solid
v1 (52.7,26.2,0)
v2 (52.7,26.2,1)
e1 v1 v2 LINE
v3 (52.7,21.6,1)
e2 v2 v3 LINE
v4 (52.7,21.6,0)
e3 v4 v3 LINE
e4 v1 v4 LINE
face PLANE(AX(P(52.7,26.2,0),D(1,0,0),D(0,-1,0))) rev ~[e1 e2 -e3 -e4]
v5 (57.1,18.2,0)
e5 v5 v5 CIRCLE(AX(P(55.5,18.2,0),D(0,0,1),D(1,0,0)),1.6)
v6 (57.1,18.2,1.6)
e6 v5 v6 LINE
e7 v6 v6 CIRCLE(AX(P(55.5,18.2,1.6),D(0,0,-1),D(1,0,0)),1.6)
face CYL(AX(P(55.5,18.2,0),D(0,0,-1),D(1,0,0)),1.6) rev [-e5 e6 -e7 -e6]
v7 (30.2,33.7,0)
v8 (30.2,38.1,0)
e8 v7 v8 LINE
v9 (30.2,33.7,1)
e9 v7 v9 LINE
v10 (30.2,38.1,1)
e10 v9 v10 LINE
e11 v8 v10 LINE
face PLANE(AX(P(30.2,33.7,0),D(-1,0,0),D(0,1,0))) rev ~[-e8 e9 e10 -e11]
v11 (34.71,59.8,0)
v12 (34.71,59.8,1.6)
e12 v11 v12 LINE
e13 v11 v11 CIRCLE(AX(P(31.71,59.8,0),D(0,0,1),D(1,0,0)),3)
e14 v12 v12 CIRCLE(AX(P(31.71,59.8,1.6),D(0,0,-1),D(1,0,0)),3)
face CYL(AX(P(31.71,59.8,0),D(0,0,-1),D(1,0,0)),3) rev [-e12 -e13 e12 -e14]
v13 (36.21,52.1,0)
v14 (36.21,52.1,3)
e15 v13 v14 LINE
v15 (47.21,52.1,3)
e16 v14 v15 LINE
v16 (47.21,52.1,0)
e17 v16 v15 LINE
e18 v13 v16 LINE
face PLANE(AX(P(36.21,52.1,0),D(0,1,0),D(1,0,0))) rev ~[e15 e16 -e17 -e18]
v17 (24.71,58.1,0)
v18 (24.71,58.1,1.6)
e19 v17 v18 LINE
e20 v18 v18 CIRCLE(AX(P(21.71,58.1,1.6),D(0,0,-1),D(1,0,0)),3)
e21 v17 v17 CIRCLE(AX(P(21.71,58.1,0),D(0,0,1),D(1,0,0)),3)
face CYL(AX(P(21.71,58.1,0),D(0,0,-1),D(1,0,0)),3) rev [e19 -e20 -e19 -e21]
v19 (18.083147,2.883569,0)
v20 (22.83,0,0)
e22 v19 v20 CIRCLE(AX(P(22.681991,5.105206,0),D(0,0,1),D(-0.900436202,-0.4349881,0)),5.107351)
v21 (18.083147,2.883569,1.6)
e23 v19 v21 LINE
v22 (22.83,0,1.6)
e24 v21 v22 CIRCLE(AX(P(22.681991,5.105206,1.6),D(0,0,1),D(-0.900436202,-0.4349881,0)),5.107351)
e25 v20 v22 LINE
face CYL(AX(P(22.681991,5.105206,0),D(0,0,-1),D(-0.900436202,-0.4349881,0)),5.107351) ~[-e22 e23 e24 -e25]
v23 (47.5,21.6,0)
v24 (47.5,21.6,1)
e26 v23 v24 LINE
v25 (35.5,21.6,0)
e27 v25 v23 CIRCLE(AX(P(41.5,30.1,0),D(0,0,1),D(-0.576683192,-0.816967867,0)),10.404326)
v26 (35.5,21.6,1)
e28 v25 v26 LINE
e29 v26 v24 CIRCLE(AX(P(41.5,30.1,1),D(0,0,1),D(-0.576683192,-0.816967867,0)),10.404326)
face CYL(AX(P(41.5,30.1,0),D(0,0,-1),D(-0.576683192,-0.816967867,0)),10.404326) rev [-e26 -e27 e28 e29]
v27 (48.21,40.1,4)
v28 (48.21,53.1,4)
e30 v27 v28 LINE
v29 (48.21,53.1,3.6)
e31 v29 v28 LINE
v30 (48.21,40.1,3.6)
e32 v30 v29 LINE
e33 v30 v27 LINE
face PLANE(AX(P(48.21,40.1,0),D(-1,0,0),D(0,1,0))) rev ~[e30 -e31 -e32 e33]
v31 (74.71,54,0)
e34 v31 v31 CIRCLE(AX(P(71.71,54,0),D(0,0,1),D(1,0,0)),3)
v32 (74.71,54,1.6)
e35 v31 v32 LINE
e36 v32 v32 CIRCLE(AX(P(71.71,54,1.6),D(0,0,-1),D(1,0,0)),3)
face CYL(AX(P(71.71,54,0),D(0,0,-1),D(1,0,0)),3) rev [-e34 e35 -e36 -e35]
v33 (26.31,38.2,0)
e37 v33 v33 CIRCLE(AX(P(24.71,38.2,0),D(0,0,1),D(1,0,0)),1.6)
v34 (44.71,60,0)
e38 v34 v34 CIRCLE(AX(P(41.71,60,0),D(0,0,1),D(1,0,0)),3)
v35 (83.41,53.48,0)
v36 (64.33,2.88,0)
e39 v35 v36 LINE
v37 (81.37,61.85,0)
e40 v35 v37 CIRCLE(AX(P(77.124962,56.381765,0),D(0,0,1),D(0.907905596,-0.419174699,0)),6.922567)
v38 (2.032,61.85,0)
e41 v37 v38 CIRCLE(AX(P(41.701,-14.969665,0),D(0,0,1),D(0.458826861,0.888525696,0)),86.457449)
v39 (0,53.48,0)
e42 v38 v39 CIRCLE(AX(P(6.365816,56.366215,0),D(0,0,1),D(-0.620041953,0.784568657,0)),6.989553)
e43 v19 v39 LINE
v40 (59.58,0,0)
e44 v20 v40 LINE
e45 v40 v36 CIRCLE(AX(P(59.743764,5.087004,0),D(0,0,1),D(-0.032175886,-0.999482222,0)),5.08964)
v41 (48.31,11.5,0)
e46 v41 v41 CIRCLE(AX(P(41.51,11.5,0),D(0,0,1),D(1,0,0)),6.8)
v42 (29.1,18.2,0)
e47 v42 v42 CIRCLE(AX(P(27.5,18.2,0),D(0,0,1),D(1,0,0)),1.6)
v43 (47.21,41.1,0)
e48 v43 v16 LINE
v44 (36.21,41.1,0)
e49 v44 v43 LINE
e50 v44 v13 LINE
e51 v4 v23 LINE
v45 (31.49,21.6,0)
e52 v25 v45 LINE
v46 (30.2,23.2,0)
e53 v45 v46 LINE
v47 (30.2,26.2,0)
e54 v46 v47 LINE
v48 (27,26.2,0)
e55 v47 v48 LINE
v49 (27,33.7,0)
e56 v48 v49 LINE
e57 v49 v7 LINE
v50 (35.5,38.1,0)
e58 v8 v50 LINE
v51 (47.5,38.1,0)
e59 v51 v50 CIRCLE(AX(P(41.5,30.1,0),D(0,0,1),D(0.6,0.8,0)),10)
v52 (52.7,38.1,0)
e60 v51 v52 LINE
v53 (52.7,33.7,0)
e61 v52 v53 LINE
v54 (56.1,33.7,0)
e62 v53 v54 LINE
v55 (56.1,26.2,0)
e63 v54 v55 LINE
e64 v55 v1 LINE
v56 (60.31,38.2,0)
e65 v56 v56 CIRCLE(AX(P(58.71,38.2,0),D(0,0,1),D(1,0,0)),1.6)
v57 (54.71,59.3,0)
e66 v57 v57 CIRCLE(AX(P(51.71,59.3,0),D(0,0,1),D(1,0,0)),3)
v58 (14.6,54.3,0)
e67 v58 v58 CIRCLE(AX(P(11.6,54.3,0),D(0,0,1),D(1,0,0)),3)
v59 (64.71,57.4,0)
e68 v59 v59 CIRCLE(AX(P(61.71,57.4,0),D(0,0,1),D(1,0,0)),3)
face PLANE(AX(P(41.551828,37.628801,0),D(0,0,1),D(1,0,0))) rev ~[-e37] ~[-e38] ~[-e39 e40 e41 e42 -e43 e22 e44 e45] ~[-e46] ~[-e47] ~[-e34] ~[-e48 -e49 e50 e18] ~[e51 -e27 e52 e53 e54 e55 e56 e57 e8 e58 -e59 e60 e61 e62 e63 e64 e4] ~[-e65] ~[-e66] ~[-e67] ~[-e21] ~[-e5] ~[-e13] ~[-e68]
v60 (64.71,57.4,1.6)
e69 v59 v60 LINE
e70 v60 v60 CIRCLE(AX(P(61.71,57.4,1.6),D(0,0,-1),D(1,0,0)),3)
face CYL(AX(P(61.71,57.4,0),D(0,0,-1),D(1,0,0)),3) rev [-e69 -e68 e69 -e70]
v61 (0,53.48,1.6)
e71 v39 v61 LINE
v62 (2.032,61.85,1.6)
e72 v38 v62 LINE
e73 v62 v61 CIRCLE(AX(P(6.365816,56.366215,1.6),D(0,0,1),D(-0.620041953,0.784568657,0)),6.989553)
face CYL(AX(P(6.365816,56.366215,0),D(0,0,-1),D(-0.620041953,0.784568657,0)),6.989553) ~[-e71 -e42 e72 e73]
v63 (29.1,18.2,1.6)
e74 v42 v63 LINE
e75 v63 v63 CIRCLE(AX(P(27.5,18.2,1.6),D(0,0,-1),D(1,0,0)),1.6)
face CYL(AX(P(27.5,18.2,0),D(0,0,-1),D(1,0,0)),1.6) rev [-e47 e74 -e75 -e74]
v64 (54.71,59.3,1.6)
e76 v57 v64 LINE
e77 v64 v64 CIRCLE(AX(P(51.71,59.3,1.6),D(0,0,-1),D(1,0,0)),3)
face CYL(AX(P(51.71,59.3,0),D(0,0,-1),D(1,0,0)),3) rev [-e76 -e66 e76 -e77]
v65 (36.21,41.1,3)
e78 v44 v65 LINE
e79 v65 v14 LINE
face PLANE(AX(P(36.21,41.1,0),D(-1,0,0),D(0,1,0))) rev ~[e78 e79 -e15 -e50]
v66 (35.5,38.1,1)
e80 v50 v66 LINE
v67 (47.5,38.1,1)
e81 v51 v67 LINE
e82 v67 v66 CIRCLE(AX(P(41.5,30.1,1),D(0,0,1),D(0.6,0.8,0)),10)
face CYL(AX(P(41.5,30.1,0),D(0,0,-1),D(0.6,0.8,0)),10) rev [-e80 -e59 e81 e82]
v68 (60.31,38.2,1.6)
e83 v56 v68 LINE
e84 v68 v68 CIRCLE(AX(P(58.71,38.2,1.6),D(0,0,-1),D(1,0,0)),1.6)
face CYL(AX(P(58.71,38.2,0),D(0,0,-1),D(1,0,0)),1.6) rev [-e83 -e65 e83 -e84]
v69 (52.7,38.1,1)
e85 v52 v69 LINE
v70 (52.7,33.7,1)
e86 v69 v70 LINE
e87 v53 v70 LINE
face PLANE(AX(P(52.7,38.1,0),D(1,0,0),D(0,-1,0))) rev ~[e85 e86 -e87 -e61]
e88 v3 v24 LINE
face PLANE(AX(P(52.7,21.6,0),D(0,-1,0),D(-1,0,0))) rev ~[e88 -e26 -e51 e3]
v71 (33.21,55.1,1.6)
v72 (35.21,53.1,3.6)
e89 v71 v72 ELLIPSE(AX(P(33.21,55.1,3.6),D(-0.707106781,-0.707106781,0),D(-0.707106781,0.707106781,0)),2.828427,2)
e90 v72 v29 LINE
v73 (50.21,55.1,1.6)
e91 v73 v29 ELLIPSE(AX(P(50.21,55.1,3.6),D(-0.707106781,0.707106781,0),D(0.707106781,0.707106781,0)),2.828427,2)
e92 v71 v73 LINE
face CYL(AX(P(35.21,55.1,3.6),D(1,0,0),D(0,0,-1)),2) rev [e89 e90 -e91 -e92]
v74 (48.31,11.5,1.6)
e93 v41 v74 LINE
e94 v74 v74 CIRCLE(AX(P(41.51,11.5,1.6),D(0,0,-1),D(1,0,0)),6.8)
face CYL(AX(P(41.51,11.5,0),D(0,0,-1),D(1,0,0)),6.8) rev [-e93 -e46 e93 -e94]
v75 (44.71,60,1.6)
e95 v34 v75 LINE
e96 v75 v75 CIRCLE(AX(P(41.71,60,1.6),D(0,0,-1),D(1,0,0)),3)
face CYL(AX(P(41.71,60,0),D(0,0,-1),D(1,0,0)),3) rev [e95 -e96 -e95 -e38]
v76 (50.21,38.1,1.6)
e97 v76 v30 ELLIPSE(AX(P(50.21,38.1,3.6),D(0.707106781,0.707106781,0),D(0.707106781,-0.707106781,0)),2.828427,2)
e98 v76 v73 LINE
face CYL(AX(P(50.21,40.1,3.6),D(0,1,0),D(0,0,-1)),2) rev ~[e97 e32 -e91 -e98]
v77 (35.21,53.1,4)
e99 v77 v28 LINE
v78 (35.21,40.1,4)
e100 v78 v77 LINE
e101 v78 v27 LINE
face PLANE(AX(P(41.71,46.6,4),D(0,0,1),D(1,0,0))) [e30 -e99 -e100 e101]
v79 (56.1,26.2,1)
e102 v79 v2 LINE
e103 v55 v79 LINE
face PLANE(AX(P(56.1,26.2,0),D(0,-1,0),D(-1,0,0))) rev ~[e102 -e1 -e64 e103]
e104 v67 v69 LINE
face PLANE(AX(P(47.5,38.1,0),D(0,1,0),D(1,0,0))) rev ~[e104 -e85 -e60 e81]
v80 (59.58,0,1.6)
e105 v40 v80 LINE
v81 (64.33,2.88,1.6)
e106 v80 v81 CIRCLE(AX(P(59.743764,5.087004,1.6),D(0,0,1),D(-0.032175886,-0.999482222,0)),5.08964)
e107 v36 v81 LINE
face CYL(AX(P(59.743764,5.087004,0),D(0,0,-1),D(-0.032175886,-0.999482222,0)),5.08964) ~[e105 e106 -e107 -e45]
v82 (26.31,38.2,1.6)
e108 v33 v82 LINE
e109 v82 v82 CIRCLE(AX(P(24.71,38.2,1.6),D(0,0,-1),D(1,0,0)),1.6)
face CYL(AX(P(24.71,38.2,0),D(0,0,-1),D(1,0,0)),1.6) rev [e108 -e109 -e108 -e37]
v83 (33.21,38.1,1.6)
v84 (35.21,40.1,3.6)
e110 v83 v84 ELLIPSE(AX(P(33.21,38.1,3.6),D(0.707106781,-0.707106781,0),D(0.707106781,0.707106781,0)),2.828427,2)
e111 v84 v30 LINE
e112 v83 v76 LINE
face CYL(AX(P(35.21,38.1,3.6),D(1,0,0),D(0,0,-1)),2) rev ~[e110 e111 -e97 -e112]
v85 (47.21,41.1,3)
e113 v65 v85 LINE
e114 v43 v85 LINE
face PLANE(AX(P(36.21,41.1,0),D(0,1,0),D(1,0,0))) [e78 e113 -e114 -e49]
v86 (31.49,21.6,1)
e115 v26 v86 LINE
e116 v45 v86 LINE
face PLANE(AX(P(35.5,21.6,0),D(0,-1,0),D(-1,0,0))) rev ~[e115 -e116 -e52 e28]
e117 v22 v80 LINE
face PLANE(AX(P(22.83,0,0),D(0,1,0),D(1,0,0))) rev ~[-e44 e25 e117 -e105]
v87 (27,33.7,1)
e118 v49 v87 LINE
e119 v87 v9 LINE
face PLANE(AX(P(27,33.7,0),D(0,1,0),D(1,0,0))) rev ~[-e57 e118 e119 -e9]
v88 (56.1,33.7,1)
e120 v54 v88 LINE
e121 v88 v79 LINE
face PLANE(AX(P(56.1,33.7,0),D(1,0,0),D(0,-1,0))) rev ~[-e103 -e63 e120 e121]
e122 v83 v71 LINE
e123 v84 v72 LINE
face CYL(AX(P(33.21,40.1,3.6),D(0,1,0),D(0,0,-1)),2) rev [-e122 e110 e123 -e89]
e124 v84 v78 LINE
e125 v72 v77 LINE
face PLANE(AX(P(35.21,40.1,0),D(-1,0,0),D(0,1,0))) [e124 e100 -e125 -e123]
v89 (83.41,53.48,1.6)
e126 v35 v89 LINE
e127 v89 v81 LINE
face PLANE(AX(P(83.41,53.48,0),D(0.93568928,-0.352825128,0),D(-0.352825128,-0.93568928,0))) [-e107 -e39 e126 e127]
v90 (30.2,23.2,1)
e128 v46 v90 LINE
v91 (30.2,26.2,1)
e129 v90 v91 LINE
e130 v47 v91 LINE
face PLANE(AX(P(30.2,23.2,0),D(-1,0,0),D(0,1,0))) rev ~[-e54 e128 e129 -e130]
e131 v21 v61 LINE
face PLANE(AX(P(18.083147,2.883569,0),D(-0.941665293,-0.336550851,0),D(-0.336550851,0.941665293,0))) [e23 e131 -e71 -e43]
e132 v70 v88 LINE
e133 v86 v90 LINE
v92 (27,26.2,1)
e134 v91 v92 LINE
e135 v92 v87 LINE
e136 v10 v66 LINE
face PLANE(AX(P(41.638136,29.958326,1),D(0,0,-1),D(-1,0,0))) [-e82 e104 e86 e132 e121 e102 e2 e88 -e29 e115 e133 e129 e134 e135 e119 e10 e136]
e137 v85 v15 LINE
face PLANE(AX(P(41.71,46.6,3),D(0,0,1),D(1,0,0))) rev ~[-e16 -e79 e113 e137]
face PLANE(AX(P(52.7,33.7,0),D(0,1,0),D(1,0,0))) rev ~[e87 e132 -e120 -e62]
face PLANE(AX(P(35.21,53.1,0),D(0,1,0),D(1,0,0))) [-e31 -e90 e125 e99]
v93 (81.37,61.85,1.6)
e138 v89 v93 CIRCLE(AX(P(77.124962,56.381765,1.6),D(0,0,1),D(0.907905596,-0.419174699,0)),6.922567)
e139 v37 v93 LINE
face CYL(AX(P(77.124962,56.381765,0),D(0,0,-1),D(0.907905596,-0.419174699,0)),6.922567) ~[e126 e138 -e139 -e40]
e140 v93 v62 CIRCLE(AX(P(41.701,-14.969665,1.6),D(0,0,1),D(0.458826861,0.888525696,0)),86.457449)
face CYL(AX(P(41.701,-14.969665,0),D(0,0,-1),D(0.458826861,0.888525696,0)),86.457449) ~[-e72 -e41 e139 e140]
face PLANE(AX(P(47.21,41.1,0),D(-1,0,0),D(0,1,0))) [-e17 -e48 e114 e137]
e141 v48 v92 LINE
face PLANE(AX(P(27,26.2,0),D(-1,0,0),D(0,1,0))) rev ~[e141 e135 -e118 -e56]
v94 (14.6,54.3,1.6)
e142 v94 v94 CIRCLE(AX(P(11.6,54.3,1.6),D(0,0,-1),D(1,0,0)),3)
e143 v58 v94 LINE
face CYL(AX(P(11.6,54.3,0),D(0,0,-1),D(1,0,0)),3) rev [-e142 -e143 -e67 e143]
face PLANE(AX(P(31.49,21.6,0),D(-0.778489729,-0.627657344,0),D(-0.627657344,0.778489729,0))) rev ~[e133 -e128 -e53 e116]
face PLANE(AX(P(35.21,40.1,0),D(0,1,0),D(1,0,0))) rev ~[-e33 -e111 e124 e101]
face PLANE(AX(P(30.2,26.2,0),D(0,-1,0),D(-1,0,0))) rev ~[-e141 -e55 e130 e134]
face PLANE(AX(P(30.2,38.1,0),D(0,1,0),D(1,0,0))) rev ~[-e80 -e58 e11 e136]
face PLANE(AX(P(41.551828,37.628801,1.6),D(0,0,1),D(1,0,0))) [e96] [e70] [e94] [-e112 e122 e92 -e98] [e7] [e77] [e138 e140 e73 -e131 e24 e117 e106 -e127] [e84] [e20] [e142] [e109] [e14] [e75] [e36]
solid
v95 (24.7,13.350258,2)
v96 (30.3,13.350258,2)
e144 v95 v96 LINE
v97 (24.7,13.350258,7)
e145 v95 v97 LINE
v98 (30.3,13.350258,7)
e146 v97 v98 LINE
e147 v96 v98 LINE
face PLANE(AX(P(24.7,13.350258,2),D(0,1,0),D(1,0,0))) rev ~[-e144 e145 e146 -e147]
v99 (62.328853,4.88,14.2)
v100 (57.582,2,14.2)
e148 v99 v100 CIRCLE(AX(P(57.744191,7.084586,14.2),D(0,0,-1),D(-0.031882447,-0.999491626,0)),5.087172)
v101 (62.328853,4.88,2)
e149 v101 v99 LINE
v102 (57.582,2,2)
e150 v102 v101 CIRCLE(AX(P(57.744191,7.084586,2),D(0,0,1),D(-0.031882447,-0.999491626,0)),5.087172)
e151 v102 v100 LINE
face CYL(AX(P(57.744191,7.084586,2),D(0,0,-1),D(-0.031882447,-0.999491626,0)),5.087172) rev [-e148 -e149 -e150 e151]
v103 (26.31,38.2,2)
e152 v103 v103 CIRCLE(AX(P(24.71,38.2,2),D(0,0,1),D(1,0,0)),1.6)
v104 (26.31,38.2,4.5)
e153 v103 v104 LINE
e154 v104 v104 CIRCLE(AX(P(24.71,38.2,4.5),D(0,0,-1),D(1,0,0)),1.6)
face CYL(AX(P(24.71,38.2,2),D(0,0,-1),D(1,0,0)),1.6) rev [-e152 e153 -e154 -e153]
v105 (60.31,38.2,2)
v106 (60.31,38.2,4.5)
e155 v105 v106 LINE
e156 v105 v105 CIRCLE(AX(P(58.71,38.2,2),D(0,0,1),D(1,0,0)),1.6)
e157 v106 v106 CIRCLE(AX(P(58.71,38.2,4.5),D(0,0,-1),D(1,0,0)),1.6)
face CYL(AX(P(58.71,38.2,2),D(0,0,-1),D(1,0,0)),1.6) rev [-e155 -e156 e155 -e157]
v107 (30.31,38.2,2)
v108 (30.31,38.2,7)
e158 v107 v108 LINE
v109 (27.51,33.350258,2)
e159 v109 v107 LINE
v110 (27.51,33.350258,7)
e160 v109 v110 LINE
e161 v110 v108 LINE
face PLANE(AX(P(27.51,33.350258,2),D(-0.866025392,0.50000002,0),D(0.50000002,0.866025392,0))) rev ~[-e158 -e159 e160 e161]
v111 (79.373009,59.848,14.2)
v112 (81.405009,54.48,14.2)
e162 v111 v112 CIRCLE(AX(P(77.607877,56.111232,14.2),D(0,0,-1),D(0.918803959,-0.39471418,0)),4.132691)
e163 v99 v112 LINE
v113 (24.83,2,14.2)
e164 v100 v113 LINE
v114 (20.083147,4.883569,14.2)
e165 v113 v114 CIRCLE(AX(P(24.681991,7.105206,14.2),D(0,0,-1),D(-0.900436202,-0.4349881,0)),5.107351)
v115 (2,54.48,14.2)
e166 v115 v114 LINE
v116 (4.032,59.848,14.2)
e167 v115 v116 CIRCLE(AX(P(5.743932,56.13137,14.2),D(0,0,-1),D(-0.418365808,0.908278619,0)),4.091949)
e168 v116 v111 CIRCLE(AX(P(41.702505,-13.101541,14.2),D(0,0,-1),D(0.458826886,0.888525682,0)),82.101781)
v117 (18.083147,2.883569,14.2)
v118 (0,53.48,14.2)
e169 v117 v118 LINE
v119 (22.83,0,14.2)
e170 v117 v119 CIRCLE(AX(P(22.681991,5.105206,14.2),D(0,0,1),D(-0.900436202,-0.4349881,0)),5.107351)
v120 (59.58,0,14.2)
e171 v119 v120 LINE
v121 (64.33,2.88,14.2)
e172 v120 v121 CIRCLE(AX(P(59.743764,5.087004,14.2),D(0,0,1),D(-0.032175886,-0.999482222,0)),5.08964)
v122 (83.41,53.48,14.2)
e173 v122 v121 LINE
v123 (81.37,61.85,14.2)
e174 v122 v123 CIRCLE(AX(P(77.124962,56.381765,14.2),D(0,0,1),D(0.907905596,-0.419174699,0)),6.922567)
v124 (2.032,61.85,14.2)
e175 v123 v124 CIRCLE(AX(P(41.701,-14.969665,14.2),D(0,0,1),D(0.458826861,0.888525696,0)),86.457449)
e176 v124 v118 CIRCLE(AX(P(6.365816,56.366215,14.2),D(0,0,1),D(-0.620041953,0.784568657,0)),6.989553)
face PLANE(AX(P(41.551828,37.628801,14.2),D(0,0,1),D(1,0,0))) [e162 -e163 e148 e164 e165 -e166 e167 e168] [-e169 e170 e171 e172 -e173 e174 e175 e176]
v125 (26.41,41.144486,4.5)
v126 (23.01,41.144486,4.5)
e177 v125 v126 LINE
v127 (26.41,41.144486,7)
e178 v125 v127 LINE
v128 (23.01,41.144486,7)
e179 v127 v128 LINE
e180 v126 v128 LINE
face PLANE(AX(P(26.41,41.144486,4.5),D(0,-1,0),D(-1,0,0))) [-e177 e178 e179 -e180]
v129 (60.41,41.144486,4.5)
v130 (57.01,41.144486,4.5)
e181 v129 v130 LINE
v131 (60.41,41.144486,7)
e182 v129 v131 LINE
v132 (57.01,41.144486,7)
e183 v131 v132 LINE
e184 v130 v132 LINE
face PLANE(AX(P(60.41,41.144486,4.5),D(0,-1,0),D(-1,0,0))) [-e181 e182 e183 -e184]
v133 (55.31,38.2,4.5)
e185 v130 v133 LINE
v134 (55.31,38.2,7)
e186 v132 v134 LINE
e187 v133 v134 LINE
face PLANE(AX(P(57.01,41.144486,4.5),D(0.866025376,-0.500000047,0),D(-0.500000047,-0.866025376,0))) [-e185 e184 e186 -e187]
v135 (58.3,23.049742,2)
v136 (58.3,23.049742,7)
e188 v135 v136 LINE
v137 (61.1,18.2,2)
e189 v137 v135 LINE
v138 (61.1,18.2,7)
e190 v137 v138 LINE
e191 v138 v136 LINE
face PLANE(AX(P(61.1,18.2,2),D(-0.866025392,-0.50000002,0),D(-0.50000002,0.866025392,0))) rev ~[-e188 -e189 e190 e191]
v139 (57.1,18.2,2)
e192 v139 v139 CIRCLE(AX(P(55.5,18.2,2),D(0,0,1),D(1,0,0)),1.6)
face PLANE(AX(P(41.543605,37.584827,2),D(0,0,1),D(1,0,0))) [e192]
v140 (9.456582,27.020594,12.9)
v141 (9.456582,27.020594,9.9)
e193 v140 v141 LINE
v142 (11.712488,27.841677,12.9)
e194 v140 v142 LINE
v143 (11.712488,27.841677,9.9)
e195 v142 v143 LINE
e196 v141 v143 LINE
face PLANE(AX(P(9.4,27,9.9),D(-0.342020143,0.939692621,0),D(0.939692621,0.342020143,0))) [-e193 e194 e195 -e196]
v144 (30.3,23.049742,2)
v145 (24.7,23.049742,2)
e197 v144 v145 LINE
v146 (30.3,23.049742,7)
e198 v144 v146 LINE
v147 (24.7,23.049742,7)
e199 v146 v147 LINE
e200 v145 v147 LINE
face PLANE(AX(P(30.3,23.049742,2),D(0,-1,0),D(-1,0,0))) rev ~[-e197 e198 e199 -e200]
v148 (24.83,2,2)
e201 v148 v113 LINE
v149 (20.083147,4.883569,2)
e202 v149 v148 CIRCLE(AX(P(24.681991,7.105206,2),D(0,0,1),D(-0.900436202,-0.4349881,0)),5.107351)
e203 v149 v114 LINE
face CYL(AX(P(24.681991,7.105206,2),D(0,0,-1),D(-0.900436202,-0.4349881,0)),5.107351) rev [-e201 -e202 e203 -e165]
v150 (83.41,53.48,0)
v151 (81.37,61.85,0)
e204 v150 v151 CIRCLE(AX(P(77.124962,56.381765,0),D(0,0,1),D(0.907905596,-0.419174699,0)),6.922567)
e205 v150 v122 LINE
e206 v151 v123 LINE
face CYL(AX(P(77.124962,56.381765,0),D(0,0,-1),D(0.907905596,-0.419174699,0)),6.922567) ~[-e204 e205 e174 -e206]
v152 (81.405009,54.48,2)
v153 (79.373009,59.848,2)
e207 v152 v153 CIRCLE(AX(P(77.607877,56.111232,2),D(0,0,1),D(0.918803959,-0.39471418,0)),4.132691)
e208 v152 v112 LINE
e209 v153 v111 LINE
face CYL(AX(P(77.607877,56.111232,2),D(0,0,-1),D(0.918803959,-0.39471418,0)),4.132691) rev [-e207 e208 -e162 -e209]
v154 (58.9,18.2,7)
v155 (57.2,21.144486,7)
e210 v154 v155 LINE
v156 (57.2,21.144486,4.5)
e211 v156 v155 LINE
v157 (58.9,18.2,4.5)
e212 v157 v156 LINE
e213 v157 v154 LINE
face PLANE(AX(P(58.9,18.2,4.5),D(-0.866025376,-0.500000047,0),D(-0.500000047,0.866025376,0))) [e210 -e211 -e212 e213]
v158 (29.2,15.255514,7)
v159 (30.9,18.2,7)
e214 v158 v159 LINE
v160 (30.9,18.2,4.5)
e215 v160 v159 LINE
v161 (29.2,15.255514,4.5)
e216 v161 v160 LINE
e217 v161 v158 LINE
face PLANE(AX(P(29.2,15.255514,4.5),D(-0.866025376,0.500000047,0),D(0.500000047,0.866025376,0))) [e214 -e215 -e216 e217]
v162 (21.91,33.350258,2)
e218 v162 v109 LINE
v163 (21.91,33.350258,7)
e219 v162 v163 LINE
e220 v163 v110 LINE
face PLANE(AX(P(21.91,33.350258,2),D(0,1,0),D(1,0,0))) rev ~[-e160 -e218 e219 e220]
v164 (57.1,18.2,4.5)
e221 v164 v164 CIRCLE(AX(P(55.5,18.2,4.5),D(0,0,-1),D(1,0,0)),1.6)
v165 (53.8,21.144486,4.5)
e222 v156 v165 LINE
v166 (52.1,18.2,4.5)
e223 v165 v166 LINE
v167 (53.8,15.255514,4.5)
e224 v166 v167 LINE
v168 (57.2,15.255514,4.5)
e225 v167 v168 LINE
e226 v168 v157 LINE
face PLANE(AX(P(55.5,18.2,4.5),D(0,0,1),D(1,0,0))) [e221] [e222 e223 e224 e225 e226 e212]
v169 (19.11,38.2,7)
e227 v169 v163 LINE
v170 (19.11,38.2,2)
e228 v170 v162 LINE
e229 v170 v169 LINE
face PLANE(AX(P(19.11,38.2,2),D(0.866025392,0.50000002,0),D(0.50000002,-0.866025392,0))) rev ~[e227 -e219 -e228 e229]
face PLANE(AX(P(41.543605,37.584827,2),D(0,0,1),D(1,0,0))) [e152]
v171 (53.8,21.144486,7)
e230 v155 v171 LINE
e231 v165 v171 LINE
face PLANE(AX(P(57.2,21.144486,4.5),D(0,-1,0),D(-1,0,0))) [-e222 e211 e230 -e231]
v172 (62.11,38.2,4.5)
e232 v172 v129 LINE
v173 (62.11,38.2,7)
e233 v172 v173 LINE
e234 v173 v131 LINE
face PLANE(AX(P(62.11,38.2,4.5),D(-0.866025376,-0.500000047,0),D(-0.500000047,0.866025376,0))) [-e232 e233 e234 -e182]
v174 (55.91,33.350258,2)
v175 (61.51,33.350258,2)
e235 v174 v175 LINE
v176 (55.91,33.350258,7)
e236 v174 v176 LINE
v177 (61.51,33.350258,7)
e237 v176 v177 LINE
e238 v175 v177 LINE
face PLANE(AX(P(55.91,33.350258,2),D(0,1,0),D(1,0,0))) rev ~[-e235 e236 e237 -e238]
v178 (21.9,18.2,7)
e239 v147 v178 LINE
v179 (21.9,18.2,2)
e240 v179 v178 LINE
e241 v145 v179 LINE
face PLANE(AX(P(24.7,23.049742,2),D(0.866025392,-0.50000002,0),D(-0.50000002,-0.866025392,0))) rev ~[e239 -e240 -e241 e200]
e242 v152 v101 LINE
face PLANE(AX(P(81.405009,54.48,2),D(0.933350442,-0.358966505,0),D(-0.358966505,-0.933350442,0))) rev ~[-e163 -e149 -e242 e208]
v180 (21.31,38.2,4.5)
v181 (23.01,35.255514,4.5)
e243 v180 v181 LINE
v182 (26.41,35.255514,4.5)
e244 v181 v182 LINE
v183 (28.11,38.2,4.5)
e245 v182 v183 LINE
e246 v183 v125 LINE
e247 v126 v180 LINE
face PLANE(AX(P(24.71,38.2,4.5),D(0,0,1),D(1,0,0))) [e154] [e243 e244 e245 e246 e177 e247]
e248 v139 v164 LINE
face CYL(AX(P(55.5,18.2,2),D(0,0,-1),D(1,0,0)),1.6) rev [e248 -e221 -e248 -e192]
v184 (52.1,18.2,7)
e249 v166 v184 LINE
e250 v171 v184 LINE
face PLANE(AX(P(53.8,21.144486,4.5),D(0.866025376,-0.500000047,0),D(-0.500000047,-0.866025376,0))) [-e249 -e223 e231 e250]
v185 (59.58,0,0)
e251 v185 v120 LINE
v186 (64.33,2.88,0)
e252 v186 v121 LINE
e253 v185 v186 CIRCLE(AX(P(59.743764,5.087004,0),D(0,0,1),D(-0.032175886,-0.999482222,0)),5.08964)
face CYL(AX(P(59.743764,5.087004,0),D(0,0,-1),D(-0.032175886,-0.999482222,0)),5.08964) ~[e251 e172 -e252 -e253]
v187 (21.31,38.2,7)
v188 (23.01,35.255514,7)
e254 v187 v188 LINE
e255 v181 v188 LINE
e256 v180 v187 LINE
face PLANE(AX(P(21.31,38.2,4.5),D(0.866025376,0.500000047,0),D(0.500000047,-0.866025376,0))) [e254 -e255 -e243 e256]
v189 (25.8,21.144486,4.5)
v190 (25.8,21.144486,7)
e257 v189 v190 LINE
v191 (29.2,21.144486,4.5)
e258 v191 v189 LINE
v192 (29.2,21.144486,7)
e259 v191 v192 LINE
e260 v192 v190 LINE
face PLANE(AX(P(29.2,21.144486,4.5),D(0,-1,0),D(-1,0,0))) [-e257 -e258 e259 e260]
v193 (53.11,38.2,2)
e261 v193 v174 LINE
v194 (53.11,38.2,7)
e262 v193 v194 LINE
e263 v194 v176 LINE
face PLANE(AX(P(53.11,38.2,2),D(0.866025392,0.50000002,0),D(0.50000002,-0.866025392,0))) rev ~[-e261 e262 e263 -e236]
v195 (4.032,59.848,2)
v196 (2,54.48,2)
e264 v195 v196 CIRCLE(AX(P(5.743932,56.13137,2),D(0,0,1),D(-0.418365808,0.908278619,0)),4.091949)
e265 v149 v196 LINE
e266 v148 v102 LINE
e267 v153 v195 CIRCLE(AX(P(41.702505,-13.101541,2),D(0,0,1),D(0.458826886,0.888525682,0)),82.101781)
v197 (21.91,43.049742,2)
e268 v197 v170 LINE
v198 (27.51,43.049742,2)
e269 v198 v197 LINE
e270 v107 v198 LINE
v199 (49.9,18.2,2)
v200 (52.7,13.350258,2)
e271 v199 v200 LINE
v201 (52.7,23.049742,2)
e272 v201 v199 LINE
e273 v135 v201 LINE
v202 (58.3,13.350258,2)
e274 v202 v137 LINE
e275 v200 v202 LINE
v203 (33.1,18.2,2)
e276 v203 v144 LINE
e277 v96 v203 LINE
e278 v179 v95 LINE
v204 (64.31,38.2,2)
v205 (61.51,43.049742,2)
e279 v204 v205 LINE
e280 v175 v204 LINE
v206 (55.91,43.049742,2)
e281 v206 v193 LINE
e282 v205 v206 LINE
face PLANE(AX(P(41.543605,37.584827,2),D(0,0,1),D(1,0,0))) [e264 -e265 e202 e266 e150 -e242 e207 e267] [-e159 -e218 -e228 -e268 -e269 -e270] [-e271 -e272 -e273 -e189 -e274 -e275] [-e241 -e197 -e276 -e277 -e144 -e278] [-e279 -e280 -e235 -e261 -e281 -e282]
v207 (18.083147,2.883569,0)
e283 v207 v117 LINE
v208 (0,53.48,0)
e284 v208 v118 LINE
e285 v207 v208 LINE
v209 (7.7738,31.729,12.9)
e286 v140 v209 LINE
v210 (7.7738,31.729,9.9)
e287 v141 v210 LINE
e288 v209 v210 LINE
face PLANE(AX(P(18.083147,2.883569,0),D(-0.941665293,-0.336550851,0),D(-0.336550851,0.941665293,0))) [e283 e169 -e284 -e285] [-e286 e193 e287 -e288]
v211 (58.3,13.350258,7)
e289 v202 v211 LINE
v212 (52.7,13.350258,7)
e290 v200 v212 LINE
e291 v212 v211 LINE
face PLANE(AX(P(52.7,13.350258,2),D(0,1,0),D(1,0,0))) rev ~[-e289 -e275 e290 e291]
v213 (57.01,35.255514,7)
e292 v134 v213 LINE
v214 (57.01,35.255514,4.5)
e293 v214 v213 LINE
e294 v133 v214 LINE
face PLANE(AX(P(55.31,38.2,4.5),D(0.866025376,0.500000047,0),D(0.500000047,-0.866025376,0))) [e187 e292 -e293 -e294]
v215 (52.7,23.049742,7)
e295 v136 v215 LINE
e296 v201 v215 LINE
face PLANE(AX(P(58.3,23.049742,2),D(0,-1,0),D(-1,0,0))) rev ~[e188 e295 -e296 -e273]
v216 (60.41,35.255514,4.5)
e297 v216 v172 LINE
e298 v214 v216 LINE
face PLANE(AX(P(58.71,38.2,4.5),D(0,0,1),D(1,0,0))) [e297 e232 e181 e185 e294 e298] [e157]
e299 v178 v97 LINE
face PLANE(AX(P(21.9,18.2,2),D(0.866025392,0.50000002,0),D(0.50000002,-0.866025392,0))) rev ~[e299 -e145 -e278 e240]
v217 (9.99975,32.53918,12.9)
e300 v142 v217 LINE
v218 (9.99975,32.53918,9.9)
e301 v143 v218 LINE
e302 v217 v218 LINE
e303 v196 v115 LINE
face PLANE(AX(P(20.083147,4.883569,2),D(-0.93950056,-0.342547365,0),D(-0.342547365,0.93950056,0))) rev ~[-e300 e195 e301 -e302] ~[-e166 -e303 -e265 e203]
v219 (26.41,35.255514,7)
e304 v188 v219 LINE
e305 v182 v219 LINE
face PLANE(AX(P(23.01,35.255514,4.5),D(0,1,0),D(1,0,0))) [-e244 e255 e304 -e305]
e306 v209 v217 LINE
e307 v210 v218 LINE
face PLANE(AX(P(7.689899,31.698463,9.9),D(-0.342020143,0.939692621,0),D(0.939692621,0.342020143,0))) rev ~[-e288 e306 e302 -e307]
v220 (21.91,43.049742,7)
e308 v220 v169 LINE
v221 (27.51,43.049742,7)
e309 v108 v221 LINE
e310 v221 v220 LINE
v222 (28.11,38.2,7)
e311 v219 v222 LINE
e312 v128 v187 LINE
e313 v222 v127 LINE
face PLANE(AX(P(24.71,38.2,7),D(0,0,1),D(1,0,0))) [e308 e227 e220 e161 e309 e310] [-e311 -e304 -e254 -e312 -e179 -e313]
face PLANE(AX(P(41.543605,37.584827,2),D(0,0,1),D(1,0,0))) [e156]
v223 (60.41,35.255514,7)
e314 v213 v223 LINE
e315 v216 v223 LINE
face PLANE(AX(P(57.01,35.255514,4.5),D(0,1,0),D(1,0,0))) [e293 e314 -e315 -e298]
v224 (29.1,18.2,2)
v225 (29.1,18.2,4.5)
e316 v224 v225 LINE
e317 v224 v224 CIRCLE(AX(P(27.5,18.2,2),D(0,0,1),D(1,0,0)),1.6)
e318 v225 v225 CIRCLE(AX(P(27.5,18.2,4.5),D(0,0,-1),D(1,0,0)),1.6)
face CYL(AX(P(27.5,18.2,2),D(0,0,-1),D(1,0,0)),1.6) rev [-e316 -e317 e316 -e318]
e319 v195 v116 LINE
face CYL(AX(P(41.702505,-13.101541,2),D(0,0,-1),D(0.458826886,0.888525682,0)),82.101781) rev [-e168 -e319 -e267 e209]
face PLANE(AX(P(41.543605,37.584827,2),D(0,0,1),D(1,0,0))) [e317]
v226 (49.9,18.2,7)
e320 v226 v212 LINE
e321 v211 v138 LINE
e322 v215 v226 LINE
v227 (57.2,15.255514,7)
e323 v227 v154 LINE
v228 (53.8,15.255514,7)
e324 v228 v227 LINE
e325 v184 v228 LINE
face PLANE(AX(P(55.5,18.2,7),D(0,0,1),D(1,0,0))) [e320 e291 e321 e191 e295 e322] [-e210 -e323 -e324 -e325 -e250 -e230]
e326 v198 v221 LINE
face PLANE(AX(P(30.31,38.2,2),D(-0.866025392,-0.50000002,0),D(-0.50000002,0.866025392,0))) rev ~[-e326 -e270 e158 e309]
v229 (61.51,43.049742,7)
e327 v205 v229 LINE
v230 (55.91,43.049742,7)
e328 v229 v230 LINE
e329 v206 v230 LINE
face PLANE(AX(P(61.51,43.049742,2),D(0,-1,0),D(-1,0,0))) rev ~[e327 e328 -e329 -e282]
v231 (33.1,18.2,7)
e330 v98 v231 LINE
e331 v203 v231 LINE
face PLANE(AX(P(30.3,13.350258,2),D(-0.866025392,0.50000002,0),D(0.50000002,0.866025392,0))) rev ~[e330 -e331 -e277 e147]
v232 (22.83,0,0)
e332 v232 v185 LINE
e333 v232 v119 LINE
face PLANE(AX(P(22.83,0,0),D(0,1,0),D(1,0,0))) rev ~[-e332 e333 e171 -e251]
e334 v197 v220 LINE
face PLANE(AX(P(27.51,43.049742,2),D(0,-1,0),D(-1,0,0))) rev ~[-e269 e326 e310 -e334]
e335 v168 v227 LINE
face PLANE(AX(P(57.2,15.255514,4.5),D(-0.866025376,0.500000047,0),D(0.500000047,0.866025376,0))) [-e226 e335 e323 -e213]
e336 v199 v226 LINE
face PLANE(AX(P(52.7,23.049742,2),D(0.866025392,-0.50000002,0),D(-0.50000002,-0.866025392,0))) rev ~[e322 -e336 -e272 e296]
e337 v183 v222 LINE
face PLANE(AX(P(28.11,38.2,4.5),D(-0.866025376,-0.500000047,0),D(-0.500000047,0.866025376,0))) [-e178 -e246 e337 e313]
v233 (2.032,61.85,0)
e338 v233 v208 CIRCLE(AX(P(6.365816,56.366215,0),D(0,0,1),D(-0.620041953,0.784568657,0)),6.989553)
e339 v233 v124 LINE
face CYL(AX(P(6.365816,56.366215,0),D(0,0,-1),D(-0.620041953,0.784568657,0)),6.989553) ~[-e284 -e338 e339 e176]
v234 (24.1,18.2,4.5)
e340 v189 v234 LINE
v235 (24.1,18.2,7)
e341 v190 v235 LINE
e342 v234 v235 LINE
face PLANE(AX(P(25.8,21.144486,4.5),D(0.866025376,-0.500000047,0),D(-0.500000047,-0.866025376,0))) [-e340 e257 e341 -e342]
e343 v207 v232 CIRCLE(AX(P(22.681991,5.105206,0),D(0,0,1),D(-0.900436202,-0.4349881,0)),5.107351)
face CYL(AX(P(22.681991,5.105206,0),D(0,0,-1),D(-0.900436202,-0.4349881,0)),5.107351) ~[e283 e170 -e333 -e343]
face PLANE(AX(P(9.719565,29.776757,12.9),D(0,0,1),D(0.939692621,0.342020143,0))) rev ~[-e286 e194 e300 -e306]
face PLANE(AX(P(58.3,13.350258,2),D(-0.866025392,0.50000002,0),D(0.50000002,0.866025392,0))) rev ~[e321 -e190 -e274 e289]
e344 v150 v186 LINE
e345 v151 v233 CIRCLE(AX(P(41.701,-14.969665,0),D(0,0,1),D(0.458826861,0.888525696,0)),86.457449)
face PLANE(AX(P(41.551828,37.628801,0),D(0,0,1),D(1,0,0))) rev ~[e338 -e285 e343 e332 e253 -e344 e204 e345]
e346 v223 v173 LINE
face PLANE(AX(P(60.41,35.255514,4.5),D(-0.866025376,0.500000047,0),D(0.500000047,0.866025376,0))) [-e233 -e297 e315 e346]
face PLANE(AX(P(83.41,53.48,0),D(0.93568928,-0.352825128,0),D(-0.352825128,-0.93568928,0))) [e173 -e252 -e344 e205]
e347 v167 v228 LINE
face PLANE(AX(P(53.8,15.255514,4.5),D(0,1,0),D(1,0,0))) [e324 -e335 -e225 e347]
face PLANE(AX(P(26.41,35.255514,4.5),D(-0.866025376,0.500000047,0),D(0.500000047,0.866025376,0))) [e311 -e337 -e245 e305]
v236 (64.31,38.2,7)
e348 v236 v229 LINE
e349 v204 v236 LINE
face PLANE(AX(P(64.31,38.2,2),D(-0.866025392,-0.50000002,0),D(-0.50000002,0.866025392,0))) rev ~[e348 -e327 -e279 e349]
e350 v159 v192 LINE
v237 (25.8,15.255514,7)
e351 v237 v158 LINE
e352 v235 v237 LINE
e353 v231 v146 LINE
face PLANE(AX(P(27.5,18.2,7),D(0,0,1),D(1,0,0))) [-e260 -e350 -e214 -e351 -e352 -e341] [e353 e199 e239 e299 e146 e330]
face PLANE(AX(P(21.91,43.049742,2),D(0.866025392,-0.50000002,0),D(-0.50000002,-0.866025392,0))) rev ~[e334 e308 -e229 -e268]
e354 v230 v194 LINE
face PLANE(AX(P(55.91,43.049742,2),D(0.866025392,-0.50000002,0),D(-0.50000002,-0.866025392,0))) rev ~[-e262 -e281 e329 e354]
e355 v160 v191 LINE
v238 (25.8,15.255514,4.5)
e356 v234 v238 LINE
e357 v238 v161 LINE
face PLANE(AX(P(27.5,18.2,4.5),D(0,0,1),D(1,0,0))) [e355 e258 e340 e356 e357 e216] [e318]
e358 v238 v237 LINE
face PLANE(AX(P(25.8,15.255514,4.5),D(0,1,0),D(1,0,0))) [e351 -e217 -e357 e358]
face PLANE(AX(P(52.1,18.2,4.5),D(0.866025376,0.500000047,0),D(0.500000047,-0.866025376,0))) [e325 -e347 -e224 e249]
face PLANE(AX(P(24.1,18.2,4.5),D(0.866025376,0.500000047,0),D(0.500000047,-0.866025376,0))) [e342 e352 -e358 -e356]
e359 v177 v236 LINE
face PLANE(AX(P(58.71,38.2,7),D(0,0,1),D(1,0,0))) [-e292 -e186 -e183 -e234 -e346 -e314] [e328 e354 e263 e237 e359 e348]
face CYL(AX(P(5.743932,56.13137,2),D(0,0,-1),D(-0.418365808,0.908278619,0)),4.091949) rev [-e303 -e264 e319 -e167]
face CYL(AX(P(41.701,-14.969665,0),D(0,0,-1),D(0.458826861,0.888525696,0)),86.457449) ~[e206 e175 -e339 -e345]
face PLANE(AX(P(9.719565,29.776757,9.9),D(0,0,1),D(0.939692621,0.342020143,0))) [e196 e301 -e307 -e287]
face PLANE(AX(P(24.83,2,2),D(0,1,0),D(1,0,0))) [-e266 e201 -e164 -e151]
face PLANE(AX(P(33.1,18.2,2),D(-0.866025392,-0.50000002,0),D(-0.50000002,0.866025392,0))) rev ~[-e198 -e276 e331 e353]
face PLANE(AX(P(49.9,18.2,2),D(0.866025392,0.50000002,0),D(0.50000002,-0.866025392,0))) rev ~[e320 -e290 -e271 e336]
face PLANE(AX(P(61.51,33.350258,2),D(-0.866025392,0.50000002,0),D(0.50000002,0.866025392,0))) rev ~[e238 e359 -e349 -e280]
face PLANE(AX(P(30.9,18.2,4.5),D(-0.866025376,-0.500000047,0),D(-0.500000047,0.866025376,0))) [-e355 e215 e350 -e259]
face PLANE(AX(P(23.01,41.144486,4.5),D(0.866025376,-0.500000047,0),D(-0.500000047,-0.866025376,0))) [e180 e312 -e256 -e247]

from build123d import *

# Parameters (mm, degrees)
BOX_W               = 2.5
BOX_H               = 5
BOX_DEPTH           = 3
BOX_PLACEMENT_ANGLE = 20
PAD_DEPTH           = 16
PAD001_DEPTH        = 14.2
PAD007_DEPTH        = 2.5
CYLINDER008_R       = 1.6
CYLINDER008_DEPTH   = 5
PAD006_DEPTH        = 5
PAD009_DEPTH        = 2.5
CYLINDER009_R       = 1.6
CYLINDER009_DEPTH   = 5
PAD008_DEPTH        = 5
PAD011_DEPTH        = 2.5
CYLINDER010_R       = 1.6
CYLINDER010_DEPTH   = 5
PAD010_DEPTH        = 5
PAD013_DEPTH        = 2.5
CYLINDER011_R       = 1.6
CYLINDER011_DEPTH   = 5
PAD012_DEPTH        = 5
CYLINDER013_R       = 1.6
CYLINDER013_DEPTH   = 2
CYLINDER014_R       = 1.6
CYLINDER014_DEPTH   = 2
CYLINDER015_R       = 1.6
CYLINDER015_DEPTH   = 2
CYLINDER016_R       = 3
CYLINDER016_DEPTH   = 2
CYLINDER017_R       = 3
CYLINDER017_DEPTH   = 2
CYLINDER018_R       = 3
CYLINDER018_DEPTH   = 2
CYLINDER019_R       = 3
CYLINDER019_DEPTH   = 2
CYLINDER020_R       = 3
CYLINDER020_DEPTH   = 2
CYLINDER021_R       = 3
CYLINDER021_DEPTH   = 2
CYLINDER022_R       = 3
CYLINDER022_DEPTH   = 2
CYLINDER023_R       = 6.8
CYLINDER023_DEPTH   = 2
BOX001_W            = 11
BOX001_H            = 11
BOX001_DEPTH        = 3
PAD015_DEPTH        = 1
CYLINDER012_R       = 1.6
CYLINDER012_DEPTH   = 2
PAD014_DEPTH        = 1.6
BOX002_W            = 13
BOX002_H            = 13
BOX002_DEPTH        = 4
FILLET_R            = 2


with BuildPart() as cube:
    # Box → Box (new body)
    with BuildSketch(Plane.XY):
        with Locations((1.25, 2.5)):
            Rectangle(BOX_W, BOX_H)
    extrude(amount=BOX_DEPTH)


with BuildPart() as cube_1:
    # Box placement: moved
    add(cube.part.moved(Location((9.4, 27, 9.9))).rotate(Axis((9.4, 27, 9.9), (0, 0, 1)), BOX_PLACEMENT_ANGLE))


with BuildPart() as body:
    # Sketch → Pad (new body)
    with BuildSketch(Plane.XY):
        with BuildLine():
            ThreePointArc((2.032, 57.848), (-0.083008, 55.580018), (0, 52.48))
            Line((18.083147, 2.883569), (0, 52.48))
            ThreePointArc((18.083147, 2.883569), (20.030345, 0.740139), (22.83, 0))
            Line((22.83, 0), (55.582, 0))
            ThreePointArc((55.582, 0), (58.382972, 0.735315), (60.328853, 2.88))
            Line((79.405009, 52.48), (60.328853, 2.88))
            ThreePointArc((79.405009, 52.48), (79.472919, 55.574303), (77.373009, 57.848))
            ThreePointArc((77.373009, 57.848), (39.702504, 67.00024), (2.032, 57.848))
        make_face()
    extrude(amount=PAD_DEPTH)


with BuildPart() as body_1:
    # Body placement: moved
    add(body.part.moved(Location((2, 2, 2))))


with BuildPart() as cut005:
    # Sketch001 → Pad001 (new body)
    with BuildSketch(Plane.XY):
        with BuildLine():
            ThreePointArc((2.032, 61.85), (-0.426441, 58.015184), (0, 53.48))
            Line((18.083147, 2.883569), (0, 53.48))
            ThreePointArc((18.083147, 2.883569), (20.030345, 0.740139), (22.83, 0))
            Line((22.83, 0), (59.58, 0))
            ThreePointArc((59.58, 0), (62.382545, 0.734848), (64.33, 2.88))
            Line((83.41, 53.48), (64.33, 2.88))
            ThreePointArc((83.41, 53.48), (83.850648, 58.021), (81.37, 61.85))
            ThreePointArc((81.37, 61.85), (41.701, 71.487784), (2.032, 61.85))
        make_face()
    extrude(amount=PAD001_DEPTH)

    # Cut: cut Body
    add(body_1.part, mode=Mode.SUBTRACT)

    # Cut005: cut Cube
    add(cube_1.part, mode=Mode.SUBTRACT)


with BuildPart() as body007:
    # Sketch007 → Pad007 (new body)
    with BuildSketch(Plane.XY):
        Polygon((-3.4, 0), (-1.7, -2.944486), (1.7, -2.944486), (3.4, 0), (1.7, 2.944486), (-1.7, 2.944486), align=None)
    extrude(amount=PAD007_DEPTH)


with BuildPart() as body007_1:
    # Body007 placement: moved
    add(body007.part.moved(Location((0, 0, 2.5))))


with BuildPart() as fusion005:
    # Cylinder008 → Cylinder008 (new body)
    with BuildSketch(Plane.XY):
        Circle(CYLINDER008_R)
    extrude(amount=CYLINDER008_DEPTH)

    # Fusion005: union Body007
    add(body007_1.part)


with BuildPart() as cut006:
    # Sketch006 → Pad006 (new body)
    with BuildSketch(Plane.XY):
        Polygon((-5.6, 0), (-2.8, -4.849742), (2.8, -4.849742), (5.6, 0), (2.8, 4.849742), (-2.8, 4.849742), align=None)
    extrude(amount=PAD006_DEPTH)

    # Cut006: cut Fusion005
    add(fusion005.part, mode=Mode.SUBTRACT)


with BuildPart() as cut006_1:
    # Cut006 placement: moved
    add(cut006.part.moved(Location((24.71, 38.2, 2))))


with BuildPart() as body009:
    # Sketch009 → Pad009 (new body)
    with BuildSketch(Plane.XY):
        Polygon((-3.4, 0), (-1.7, -2.944486), (1.7, -2.944486), (3.4, 0), (1.7, 2.944486), (-1.7, 2.944486), align=None)
    extrude(amount=PAD009_DEPTH)


with BuildPart() as body009_1:
    # Body009 placement: moved
    add(body009.part.moved(Location((0, 0, 2.5))))


with BuildPart() as fusion006:
    # Cylinder009 → Cylinder009 (new body)
    with BuildSketch(Plane.XY):
        Circle(CYLINDER009_R)
    extrude(amount=CYLINDER009_DEPTH)

    # Fusion006: union Body009
    add(body009_1.part)


with BuildPart() as cut007:
    # Sketch008 → Pad008 (new body)
    with BuildSketch(Plane.XY):
        Polygon((-5.6, 0), (-2.8, -4.849742), (2.8, -4.849742), (5.6, 0), (2.8, 4.849742), (-2.8, 4.849742), align=None)
    extrude(amount=PAD008_DEPTH)

    # Cut007: cut Fusion006
    add(fusion006.part, mode=Mode.SUBTRACT)


with BuildPart() as cut007_1:
    # Cut007 placement: moved
    add(cut007.part.moved(Location((58.71, 38.2, 2))))


with BuildPart() as body011:
    # Sketch011 → Pad011 (new body)
    with BuildSketch(Plane.XY):
        Polygon((-3.4, 0), (-1.7, -2.944486), (1.7, -2.944486), (3.4, 0), (1.7, 2.944486), (-1.7, 2.944486), align=None)
    extrude(amount=PAD011_DEPTH)


with BuildPart() as body011_1:
    # Body011 placement: moved
    add(body011.part.moved(Location((0, 0, 2.5))))


with BuildPart() as fusion007:
    # Cylinder010 → Cylinder010 (new body)
    with BuildSketch(Plane.XY):
        Circle(CYLINDER010_R)
    extrude(amount=CYLINDER010_DEPTH)

    # Fusion007: union Body011
    add(body011_1.part)


with BuildPart() as cut008:
    # Sketch010 → Pad010 (new body)
    with BuildSketch(Plane.XY):
        Polygon((-5.6, 0), (-2.8, -4.849742), (2.8, -4.849742), (5.6, 0), (2.8, 4.849742), (-2.8, 4.849742), align=None)
    extrude(amount=PAD010_DEPTH)

    # Cut008: cut Fusion007
    add(fusion007.part, mode=Mode.SUBTRACT)


with BuildPart() as cut008_1:
    # Cut008 placement: moved
    add(cut008.part.moved(Location((27.5, 18.2, 2))))


with BuildPart() as body013:
    # Sketch013 → Pad013 (new body)
    with BuildSketch(Plane.XY):
        Polygon((-3.4, 0), (-1.7, -2.944486), (1.7, -2.944486), (3.4, 0), (1.7, 2.944486), (-1.7, 2.944486), align=None)
    extrude(amount=PAD013_DEPTH)


with BuildPart() as body013_1:
    # Body013 placement: moved
    add(body013.part.moved(Location((0, 0, 2.5))))


with BuildPart() as fusion008:
    # Cylinder011 → Cylinder011 (new body)
    with BuildSketch(Plane.XY):
        Circle(CYLINDER011_R)
    extrude(amount=CYLINDER011_DEPTH)

    # Fusion008: union Body013
    add(body013_1.part)


with BuildPart() as box:
    # Sketch012 → Pad012 (new body)
    with BuildSketch(Plane.XY):
        Polygon((-5.6, 0), (-2.8, -4.849742), (2.8, -4.849742), (5.6, 0), (2.8, 4.849742), (-2.8, 4.849742), align=None)
    extrude(amount=PAD012_DEPTH)

    # Cut009: cut Fusion008
    add(fusion008.part, mode=Mode.SUBTRACT)


with BuildPart() as box_1:
    # Cut009 placement: moved
    add(box.part.moved(Location((55.5, 18.2, 2))))

    # Fusion: union Cut005, Cut006, Cut007, Cut008
    add(cut005.part)
    add(cut006_1.part)
    add(cut007_1.part)
    add(cut008_1.part)


with BuildPart() as cylinder013:
    # Cylinder013 → Cylinder013 (new body)
    with BuildSketch(Plane(origin=(58.71, 38.2, 0), x_dir=(1, 0, 0), z_dir=(0, 0, 1))):
        Circle(CYLINDER013_R)
    extrude(amount=CYLINDER013_DEPTH)


with BuildPart() as cylinder014:
    # Cylinder014 → Cylinder014 (new body)
    with BuildSketch(Plane(origin=(27.5, 18.2, 0), x_dir=(1, 0, 0), z_dir=(0, 0, 1))):
        Circle(CYLINDER014_R)
    extrude(amount=CYLINDER014_DEPTH)


with BuildPart() as cylinder015:
    # Cylinder015 → Cylinder015 (new body)
    with BuildSketch(Plane(origin=(55.5, 18.2, 0), x_dir=(1, 0, 0), z_dir=(0, 0, 1))):
        Circle(CYLINDER015_R)
    extrude(amount=CYLINDER015_DEPTH)


with BuildPart() as cylinder016:
    # Cylinder016 → Cylinder016 (new body)
    with BuildSketch(Plane(origin=(11.6, 54.3, 0), x_dir=(1, 0, 0), z_dir=(0, 0, 1))):
        Circle(CYLINDER016_R)
    extrude(amount=CYLINDER016_DEPTH)


with BuildPart() as cylinder017:
    # Cylinder017 → Cylinder017 (new body)
    with BuildSketch(Plane(origin=(21.71, 58.1, 0), x_dir=(1, 0, 0), z_dir=(0, 0, 1))):
        Circle(CYLINDER017_R)
    extrude(amount=CYLINDER017_DEPTH)


with BuildPart() as cylinder018:
    # Cylinder018 → Cylinder018 (new body)
    with BuildSketch(Plane(origin=(31.71, 59.8, 0), x_dir=(1, 0, 0), z_dir=(0, 0, 1))):
        Circle(CYLINDER018_R)
    extrude(amount=CYLINDER018_DEPTH)


with BuildPart() as cylinder019:
    # Cylinder019 → Cylinder019 (new body)
    with BuildSketch(Plane(origin=(41.71, 60, 0), x_dir=(1, 0, 0), z_dir=(0, 0, 1))):
        Circle(CYLINDER019_R)
    extrude(amount=CYLINDER019_DEPTH)


with BuildPart() as cylinder020:
    # Cylinder020 → Cylinder020 (new body)
    with BuildSketch(Plane(origin=(51.71, 59.3, 0), x_dir=(1, 0, 0), z_dir=(0, 0, 1))):
        Circle(CYLINDER020_R)
    extrude(amount=CYLINDER020_DEPTH)


with BuildPart() as cylinder021:
    # Cylinder021 → Cylinder021 (new body)
    with BuildSketch(Plane(origin=(61.71, 57.4, 0), x_dir=(1, 0, 0), z_dir=(0, 0, 1))):
        Circle(CYLINDER021_R)
    extrude(amount=CYLINDER021_DEPTH)


with BuildPart() as cylinder022:
    # Cylinder022 → Cylinder022 (new body)
    with BuildSketch(Plane(origin=(71.71, 54, 0), x_dir=(1, 0, 0), z_dir=(0, 0, 1))):
        Circle(CYLINDER022_R)
    extrude(amount=CYLINDER022_DEPTH)


with BuildPart() as cylinder023:
    # Cylinder023 → Cylinder023 (new body)
    with BuildSketch(Plane(origin=(41.51, 11.5, 0), x_dir=(1, 0, 0), z_dir=(0, 0, 1))):
        Circle(CYLINDER023_R)
    extrude(amount=CYLINDER023_DEPTH)


with BuildPart() as cube001:
    # Box001 → Box001 (new body)
    with BuildSketch(Plane(origin=(36.21, 41.1, 0), x_dir=(1, 0, 0), z_dir=(0, 0, 1))):
        with Locations((5.5, 5.5)):
            Rectangle(BOX001_W, BOX001_H)
    extrude(amount=BOX001_DEPTH)


with BuildPart() as body015:
    # Sketch015 → Pad015 (new body)
    with BuildSketch(Plane.XY):
        with BuildLine():
            Line((90.5, -105.8), (90.5, -98.3))
            Line((90.5, -98.3), (93.7, -98.3))
            Line((93.7, -98.3), (93.7, -93.9))
            Line((93.7, -93.9), (99, -93.9))
            ThreePointArc((111, -93.9), (105, -91.9), (99, -93.9))
            Line((111, -93.9), (116.2, -93.9))
            Line((116.2, -93.9), (116.2, -98.3))
            Line((116.2, -98.3), (119.6, -98.3))
            Line((119.6, -98.3), (119.6, -105.8))
            Line((119.6, -105.8), (116.2, -105.8))
            Line((116.2, -105.8), (116.2, -110.4))
            Line((116.2, -110.4), (111, -110.4))
            ThreePointArc((99, -110.4), (105, -112.304326), (111, -110.4))
            Line((99, -110.4), (94.99, -110.4))
            Line((94.99, -110.4), (93.7, -108.8))
            Line((93.7, -108.8), (93.7, -105.8))
            Line((93.7, -105.8), (90.5, -105.8))
        make_face()
    extrude(amount=PAD015_DEPTH)


with BuildPart() as body015_1:
    # Body015 placement: moved
    add(body015.part.moved(Location((-63.5, 132, 0))))


with BuildPart() as fusion009:
    # Cylinder012 → Cylinder012 (new body)
    with BuildSketch(Plane(origin=(24.71, 38.2, 0), x_dir=(1, 0, 0), z_dir=(0, 0, 1))):
        Circle(CYLINDER012_R)
    extrude(amount=CYLINDER012_DEPTH)

    # Fusion009: union Cylinder013, Cylinder014, Cylinder015, Cylinder016, Cylinder017, Cylinder018, Cylinder019, Cylinder020, Cylinder021, Cylinder022, Cylinder023, Cube001, Body015
    add(cylinder013.part)
    add(cylinder014.part)
    add(cylinder015.part)
    add(cylinder016.part)
    add(cylinder017.part)
    add(cylinder018.part)
    add(cylinder019.part)
    add(cylinder020.part)
    add(cylinder021.part)
    add(cylinder022.part)
    add(cylinder023.part)
    add(cube001.part)
    add(body015_1.part)


with BuildPart() as body014:
    # Sketch014 → Pad014 (new body)
    with BuildSketch(Plane.XY):
        with BuildLine():
            ThreePointArc((2.032, 61.85), (-0.426441, 58.015184), (0, 53.48))
            Line((18.083147, 2.883569), (0, 53.48))
            ThreePointArc((18.083147, 2.883569), (20.030345, 0.740139), (22.83, 0))
            Line((22.83, 0), (59.58, 0))
            ThreePointArc((59.58, 0), (62.382545, 0.734848), (64.33, 2.88))
            Line((83.41, 53.48), (64.33, 2.88))
            ThreePointArc((83.41, 53.48), (83.850648, 58.021), (81.37, 61.85))
            ThreePointArc((81.37, 61.85), (41.701, 71.487784), (2.032, 61.85))
        make_face()
    extrude(amount=PAD014_DEPTH)


with BuildPart() as cover:
    # Box002 → Box002 (new body)
    with BuildSketch(Plane(origin=(35.21, 40.1, 0), x_dir=(1, 0, 0), z_dir=(0, 0, 1))):
        with Locations((6.5, 6.5)):
            Rectangle(BOX002_W, BOX002_H)
    extrude(amount=BOX002_DEPTH)

    # Fusion010: union Body014
    add(body014.part)

    # Cut010: cut Fusion009
    add(fusion009.part, mode=Mode.SUBTRACT)

    # Fillet
    fillet_edges = [cover.edges().sort_by_distance(p)[0] for p in [
        (35.21, 46.6, 1.6),
        (41.71, 53.1, 1.6),
        (41.71, 40.1, 1.6),
        (48.21, 46.6, 1.6),
    ]]
    fillet(fillet_edges, radius=FILLET_R)


solid = Compound([box_1.part, cover.part])
